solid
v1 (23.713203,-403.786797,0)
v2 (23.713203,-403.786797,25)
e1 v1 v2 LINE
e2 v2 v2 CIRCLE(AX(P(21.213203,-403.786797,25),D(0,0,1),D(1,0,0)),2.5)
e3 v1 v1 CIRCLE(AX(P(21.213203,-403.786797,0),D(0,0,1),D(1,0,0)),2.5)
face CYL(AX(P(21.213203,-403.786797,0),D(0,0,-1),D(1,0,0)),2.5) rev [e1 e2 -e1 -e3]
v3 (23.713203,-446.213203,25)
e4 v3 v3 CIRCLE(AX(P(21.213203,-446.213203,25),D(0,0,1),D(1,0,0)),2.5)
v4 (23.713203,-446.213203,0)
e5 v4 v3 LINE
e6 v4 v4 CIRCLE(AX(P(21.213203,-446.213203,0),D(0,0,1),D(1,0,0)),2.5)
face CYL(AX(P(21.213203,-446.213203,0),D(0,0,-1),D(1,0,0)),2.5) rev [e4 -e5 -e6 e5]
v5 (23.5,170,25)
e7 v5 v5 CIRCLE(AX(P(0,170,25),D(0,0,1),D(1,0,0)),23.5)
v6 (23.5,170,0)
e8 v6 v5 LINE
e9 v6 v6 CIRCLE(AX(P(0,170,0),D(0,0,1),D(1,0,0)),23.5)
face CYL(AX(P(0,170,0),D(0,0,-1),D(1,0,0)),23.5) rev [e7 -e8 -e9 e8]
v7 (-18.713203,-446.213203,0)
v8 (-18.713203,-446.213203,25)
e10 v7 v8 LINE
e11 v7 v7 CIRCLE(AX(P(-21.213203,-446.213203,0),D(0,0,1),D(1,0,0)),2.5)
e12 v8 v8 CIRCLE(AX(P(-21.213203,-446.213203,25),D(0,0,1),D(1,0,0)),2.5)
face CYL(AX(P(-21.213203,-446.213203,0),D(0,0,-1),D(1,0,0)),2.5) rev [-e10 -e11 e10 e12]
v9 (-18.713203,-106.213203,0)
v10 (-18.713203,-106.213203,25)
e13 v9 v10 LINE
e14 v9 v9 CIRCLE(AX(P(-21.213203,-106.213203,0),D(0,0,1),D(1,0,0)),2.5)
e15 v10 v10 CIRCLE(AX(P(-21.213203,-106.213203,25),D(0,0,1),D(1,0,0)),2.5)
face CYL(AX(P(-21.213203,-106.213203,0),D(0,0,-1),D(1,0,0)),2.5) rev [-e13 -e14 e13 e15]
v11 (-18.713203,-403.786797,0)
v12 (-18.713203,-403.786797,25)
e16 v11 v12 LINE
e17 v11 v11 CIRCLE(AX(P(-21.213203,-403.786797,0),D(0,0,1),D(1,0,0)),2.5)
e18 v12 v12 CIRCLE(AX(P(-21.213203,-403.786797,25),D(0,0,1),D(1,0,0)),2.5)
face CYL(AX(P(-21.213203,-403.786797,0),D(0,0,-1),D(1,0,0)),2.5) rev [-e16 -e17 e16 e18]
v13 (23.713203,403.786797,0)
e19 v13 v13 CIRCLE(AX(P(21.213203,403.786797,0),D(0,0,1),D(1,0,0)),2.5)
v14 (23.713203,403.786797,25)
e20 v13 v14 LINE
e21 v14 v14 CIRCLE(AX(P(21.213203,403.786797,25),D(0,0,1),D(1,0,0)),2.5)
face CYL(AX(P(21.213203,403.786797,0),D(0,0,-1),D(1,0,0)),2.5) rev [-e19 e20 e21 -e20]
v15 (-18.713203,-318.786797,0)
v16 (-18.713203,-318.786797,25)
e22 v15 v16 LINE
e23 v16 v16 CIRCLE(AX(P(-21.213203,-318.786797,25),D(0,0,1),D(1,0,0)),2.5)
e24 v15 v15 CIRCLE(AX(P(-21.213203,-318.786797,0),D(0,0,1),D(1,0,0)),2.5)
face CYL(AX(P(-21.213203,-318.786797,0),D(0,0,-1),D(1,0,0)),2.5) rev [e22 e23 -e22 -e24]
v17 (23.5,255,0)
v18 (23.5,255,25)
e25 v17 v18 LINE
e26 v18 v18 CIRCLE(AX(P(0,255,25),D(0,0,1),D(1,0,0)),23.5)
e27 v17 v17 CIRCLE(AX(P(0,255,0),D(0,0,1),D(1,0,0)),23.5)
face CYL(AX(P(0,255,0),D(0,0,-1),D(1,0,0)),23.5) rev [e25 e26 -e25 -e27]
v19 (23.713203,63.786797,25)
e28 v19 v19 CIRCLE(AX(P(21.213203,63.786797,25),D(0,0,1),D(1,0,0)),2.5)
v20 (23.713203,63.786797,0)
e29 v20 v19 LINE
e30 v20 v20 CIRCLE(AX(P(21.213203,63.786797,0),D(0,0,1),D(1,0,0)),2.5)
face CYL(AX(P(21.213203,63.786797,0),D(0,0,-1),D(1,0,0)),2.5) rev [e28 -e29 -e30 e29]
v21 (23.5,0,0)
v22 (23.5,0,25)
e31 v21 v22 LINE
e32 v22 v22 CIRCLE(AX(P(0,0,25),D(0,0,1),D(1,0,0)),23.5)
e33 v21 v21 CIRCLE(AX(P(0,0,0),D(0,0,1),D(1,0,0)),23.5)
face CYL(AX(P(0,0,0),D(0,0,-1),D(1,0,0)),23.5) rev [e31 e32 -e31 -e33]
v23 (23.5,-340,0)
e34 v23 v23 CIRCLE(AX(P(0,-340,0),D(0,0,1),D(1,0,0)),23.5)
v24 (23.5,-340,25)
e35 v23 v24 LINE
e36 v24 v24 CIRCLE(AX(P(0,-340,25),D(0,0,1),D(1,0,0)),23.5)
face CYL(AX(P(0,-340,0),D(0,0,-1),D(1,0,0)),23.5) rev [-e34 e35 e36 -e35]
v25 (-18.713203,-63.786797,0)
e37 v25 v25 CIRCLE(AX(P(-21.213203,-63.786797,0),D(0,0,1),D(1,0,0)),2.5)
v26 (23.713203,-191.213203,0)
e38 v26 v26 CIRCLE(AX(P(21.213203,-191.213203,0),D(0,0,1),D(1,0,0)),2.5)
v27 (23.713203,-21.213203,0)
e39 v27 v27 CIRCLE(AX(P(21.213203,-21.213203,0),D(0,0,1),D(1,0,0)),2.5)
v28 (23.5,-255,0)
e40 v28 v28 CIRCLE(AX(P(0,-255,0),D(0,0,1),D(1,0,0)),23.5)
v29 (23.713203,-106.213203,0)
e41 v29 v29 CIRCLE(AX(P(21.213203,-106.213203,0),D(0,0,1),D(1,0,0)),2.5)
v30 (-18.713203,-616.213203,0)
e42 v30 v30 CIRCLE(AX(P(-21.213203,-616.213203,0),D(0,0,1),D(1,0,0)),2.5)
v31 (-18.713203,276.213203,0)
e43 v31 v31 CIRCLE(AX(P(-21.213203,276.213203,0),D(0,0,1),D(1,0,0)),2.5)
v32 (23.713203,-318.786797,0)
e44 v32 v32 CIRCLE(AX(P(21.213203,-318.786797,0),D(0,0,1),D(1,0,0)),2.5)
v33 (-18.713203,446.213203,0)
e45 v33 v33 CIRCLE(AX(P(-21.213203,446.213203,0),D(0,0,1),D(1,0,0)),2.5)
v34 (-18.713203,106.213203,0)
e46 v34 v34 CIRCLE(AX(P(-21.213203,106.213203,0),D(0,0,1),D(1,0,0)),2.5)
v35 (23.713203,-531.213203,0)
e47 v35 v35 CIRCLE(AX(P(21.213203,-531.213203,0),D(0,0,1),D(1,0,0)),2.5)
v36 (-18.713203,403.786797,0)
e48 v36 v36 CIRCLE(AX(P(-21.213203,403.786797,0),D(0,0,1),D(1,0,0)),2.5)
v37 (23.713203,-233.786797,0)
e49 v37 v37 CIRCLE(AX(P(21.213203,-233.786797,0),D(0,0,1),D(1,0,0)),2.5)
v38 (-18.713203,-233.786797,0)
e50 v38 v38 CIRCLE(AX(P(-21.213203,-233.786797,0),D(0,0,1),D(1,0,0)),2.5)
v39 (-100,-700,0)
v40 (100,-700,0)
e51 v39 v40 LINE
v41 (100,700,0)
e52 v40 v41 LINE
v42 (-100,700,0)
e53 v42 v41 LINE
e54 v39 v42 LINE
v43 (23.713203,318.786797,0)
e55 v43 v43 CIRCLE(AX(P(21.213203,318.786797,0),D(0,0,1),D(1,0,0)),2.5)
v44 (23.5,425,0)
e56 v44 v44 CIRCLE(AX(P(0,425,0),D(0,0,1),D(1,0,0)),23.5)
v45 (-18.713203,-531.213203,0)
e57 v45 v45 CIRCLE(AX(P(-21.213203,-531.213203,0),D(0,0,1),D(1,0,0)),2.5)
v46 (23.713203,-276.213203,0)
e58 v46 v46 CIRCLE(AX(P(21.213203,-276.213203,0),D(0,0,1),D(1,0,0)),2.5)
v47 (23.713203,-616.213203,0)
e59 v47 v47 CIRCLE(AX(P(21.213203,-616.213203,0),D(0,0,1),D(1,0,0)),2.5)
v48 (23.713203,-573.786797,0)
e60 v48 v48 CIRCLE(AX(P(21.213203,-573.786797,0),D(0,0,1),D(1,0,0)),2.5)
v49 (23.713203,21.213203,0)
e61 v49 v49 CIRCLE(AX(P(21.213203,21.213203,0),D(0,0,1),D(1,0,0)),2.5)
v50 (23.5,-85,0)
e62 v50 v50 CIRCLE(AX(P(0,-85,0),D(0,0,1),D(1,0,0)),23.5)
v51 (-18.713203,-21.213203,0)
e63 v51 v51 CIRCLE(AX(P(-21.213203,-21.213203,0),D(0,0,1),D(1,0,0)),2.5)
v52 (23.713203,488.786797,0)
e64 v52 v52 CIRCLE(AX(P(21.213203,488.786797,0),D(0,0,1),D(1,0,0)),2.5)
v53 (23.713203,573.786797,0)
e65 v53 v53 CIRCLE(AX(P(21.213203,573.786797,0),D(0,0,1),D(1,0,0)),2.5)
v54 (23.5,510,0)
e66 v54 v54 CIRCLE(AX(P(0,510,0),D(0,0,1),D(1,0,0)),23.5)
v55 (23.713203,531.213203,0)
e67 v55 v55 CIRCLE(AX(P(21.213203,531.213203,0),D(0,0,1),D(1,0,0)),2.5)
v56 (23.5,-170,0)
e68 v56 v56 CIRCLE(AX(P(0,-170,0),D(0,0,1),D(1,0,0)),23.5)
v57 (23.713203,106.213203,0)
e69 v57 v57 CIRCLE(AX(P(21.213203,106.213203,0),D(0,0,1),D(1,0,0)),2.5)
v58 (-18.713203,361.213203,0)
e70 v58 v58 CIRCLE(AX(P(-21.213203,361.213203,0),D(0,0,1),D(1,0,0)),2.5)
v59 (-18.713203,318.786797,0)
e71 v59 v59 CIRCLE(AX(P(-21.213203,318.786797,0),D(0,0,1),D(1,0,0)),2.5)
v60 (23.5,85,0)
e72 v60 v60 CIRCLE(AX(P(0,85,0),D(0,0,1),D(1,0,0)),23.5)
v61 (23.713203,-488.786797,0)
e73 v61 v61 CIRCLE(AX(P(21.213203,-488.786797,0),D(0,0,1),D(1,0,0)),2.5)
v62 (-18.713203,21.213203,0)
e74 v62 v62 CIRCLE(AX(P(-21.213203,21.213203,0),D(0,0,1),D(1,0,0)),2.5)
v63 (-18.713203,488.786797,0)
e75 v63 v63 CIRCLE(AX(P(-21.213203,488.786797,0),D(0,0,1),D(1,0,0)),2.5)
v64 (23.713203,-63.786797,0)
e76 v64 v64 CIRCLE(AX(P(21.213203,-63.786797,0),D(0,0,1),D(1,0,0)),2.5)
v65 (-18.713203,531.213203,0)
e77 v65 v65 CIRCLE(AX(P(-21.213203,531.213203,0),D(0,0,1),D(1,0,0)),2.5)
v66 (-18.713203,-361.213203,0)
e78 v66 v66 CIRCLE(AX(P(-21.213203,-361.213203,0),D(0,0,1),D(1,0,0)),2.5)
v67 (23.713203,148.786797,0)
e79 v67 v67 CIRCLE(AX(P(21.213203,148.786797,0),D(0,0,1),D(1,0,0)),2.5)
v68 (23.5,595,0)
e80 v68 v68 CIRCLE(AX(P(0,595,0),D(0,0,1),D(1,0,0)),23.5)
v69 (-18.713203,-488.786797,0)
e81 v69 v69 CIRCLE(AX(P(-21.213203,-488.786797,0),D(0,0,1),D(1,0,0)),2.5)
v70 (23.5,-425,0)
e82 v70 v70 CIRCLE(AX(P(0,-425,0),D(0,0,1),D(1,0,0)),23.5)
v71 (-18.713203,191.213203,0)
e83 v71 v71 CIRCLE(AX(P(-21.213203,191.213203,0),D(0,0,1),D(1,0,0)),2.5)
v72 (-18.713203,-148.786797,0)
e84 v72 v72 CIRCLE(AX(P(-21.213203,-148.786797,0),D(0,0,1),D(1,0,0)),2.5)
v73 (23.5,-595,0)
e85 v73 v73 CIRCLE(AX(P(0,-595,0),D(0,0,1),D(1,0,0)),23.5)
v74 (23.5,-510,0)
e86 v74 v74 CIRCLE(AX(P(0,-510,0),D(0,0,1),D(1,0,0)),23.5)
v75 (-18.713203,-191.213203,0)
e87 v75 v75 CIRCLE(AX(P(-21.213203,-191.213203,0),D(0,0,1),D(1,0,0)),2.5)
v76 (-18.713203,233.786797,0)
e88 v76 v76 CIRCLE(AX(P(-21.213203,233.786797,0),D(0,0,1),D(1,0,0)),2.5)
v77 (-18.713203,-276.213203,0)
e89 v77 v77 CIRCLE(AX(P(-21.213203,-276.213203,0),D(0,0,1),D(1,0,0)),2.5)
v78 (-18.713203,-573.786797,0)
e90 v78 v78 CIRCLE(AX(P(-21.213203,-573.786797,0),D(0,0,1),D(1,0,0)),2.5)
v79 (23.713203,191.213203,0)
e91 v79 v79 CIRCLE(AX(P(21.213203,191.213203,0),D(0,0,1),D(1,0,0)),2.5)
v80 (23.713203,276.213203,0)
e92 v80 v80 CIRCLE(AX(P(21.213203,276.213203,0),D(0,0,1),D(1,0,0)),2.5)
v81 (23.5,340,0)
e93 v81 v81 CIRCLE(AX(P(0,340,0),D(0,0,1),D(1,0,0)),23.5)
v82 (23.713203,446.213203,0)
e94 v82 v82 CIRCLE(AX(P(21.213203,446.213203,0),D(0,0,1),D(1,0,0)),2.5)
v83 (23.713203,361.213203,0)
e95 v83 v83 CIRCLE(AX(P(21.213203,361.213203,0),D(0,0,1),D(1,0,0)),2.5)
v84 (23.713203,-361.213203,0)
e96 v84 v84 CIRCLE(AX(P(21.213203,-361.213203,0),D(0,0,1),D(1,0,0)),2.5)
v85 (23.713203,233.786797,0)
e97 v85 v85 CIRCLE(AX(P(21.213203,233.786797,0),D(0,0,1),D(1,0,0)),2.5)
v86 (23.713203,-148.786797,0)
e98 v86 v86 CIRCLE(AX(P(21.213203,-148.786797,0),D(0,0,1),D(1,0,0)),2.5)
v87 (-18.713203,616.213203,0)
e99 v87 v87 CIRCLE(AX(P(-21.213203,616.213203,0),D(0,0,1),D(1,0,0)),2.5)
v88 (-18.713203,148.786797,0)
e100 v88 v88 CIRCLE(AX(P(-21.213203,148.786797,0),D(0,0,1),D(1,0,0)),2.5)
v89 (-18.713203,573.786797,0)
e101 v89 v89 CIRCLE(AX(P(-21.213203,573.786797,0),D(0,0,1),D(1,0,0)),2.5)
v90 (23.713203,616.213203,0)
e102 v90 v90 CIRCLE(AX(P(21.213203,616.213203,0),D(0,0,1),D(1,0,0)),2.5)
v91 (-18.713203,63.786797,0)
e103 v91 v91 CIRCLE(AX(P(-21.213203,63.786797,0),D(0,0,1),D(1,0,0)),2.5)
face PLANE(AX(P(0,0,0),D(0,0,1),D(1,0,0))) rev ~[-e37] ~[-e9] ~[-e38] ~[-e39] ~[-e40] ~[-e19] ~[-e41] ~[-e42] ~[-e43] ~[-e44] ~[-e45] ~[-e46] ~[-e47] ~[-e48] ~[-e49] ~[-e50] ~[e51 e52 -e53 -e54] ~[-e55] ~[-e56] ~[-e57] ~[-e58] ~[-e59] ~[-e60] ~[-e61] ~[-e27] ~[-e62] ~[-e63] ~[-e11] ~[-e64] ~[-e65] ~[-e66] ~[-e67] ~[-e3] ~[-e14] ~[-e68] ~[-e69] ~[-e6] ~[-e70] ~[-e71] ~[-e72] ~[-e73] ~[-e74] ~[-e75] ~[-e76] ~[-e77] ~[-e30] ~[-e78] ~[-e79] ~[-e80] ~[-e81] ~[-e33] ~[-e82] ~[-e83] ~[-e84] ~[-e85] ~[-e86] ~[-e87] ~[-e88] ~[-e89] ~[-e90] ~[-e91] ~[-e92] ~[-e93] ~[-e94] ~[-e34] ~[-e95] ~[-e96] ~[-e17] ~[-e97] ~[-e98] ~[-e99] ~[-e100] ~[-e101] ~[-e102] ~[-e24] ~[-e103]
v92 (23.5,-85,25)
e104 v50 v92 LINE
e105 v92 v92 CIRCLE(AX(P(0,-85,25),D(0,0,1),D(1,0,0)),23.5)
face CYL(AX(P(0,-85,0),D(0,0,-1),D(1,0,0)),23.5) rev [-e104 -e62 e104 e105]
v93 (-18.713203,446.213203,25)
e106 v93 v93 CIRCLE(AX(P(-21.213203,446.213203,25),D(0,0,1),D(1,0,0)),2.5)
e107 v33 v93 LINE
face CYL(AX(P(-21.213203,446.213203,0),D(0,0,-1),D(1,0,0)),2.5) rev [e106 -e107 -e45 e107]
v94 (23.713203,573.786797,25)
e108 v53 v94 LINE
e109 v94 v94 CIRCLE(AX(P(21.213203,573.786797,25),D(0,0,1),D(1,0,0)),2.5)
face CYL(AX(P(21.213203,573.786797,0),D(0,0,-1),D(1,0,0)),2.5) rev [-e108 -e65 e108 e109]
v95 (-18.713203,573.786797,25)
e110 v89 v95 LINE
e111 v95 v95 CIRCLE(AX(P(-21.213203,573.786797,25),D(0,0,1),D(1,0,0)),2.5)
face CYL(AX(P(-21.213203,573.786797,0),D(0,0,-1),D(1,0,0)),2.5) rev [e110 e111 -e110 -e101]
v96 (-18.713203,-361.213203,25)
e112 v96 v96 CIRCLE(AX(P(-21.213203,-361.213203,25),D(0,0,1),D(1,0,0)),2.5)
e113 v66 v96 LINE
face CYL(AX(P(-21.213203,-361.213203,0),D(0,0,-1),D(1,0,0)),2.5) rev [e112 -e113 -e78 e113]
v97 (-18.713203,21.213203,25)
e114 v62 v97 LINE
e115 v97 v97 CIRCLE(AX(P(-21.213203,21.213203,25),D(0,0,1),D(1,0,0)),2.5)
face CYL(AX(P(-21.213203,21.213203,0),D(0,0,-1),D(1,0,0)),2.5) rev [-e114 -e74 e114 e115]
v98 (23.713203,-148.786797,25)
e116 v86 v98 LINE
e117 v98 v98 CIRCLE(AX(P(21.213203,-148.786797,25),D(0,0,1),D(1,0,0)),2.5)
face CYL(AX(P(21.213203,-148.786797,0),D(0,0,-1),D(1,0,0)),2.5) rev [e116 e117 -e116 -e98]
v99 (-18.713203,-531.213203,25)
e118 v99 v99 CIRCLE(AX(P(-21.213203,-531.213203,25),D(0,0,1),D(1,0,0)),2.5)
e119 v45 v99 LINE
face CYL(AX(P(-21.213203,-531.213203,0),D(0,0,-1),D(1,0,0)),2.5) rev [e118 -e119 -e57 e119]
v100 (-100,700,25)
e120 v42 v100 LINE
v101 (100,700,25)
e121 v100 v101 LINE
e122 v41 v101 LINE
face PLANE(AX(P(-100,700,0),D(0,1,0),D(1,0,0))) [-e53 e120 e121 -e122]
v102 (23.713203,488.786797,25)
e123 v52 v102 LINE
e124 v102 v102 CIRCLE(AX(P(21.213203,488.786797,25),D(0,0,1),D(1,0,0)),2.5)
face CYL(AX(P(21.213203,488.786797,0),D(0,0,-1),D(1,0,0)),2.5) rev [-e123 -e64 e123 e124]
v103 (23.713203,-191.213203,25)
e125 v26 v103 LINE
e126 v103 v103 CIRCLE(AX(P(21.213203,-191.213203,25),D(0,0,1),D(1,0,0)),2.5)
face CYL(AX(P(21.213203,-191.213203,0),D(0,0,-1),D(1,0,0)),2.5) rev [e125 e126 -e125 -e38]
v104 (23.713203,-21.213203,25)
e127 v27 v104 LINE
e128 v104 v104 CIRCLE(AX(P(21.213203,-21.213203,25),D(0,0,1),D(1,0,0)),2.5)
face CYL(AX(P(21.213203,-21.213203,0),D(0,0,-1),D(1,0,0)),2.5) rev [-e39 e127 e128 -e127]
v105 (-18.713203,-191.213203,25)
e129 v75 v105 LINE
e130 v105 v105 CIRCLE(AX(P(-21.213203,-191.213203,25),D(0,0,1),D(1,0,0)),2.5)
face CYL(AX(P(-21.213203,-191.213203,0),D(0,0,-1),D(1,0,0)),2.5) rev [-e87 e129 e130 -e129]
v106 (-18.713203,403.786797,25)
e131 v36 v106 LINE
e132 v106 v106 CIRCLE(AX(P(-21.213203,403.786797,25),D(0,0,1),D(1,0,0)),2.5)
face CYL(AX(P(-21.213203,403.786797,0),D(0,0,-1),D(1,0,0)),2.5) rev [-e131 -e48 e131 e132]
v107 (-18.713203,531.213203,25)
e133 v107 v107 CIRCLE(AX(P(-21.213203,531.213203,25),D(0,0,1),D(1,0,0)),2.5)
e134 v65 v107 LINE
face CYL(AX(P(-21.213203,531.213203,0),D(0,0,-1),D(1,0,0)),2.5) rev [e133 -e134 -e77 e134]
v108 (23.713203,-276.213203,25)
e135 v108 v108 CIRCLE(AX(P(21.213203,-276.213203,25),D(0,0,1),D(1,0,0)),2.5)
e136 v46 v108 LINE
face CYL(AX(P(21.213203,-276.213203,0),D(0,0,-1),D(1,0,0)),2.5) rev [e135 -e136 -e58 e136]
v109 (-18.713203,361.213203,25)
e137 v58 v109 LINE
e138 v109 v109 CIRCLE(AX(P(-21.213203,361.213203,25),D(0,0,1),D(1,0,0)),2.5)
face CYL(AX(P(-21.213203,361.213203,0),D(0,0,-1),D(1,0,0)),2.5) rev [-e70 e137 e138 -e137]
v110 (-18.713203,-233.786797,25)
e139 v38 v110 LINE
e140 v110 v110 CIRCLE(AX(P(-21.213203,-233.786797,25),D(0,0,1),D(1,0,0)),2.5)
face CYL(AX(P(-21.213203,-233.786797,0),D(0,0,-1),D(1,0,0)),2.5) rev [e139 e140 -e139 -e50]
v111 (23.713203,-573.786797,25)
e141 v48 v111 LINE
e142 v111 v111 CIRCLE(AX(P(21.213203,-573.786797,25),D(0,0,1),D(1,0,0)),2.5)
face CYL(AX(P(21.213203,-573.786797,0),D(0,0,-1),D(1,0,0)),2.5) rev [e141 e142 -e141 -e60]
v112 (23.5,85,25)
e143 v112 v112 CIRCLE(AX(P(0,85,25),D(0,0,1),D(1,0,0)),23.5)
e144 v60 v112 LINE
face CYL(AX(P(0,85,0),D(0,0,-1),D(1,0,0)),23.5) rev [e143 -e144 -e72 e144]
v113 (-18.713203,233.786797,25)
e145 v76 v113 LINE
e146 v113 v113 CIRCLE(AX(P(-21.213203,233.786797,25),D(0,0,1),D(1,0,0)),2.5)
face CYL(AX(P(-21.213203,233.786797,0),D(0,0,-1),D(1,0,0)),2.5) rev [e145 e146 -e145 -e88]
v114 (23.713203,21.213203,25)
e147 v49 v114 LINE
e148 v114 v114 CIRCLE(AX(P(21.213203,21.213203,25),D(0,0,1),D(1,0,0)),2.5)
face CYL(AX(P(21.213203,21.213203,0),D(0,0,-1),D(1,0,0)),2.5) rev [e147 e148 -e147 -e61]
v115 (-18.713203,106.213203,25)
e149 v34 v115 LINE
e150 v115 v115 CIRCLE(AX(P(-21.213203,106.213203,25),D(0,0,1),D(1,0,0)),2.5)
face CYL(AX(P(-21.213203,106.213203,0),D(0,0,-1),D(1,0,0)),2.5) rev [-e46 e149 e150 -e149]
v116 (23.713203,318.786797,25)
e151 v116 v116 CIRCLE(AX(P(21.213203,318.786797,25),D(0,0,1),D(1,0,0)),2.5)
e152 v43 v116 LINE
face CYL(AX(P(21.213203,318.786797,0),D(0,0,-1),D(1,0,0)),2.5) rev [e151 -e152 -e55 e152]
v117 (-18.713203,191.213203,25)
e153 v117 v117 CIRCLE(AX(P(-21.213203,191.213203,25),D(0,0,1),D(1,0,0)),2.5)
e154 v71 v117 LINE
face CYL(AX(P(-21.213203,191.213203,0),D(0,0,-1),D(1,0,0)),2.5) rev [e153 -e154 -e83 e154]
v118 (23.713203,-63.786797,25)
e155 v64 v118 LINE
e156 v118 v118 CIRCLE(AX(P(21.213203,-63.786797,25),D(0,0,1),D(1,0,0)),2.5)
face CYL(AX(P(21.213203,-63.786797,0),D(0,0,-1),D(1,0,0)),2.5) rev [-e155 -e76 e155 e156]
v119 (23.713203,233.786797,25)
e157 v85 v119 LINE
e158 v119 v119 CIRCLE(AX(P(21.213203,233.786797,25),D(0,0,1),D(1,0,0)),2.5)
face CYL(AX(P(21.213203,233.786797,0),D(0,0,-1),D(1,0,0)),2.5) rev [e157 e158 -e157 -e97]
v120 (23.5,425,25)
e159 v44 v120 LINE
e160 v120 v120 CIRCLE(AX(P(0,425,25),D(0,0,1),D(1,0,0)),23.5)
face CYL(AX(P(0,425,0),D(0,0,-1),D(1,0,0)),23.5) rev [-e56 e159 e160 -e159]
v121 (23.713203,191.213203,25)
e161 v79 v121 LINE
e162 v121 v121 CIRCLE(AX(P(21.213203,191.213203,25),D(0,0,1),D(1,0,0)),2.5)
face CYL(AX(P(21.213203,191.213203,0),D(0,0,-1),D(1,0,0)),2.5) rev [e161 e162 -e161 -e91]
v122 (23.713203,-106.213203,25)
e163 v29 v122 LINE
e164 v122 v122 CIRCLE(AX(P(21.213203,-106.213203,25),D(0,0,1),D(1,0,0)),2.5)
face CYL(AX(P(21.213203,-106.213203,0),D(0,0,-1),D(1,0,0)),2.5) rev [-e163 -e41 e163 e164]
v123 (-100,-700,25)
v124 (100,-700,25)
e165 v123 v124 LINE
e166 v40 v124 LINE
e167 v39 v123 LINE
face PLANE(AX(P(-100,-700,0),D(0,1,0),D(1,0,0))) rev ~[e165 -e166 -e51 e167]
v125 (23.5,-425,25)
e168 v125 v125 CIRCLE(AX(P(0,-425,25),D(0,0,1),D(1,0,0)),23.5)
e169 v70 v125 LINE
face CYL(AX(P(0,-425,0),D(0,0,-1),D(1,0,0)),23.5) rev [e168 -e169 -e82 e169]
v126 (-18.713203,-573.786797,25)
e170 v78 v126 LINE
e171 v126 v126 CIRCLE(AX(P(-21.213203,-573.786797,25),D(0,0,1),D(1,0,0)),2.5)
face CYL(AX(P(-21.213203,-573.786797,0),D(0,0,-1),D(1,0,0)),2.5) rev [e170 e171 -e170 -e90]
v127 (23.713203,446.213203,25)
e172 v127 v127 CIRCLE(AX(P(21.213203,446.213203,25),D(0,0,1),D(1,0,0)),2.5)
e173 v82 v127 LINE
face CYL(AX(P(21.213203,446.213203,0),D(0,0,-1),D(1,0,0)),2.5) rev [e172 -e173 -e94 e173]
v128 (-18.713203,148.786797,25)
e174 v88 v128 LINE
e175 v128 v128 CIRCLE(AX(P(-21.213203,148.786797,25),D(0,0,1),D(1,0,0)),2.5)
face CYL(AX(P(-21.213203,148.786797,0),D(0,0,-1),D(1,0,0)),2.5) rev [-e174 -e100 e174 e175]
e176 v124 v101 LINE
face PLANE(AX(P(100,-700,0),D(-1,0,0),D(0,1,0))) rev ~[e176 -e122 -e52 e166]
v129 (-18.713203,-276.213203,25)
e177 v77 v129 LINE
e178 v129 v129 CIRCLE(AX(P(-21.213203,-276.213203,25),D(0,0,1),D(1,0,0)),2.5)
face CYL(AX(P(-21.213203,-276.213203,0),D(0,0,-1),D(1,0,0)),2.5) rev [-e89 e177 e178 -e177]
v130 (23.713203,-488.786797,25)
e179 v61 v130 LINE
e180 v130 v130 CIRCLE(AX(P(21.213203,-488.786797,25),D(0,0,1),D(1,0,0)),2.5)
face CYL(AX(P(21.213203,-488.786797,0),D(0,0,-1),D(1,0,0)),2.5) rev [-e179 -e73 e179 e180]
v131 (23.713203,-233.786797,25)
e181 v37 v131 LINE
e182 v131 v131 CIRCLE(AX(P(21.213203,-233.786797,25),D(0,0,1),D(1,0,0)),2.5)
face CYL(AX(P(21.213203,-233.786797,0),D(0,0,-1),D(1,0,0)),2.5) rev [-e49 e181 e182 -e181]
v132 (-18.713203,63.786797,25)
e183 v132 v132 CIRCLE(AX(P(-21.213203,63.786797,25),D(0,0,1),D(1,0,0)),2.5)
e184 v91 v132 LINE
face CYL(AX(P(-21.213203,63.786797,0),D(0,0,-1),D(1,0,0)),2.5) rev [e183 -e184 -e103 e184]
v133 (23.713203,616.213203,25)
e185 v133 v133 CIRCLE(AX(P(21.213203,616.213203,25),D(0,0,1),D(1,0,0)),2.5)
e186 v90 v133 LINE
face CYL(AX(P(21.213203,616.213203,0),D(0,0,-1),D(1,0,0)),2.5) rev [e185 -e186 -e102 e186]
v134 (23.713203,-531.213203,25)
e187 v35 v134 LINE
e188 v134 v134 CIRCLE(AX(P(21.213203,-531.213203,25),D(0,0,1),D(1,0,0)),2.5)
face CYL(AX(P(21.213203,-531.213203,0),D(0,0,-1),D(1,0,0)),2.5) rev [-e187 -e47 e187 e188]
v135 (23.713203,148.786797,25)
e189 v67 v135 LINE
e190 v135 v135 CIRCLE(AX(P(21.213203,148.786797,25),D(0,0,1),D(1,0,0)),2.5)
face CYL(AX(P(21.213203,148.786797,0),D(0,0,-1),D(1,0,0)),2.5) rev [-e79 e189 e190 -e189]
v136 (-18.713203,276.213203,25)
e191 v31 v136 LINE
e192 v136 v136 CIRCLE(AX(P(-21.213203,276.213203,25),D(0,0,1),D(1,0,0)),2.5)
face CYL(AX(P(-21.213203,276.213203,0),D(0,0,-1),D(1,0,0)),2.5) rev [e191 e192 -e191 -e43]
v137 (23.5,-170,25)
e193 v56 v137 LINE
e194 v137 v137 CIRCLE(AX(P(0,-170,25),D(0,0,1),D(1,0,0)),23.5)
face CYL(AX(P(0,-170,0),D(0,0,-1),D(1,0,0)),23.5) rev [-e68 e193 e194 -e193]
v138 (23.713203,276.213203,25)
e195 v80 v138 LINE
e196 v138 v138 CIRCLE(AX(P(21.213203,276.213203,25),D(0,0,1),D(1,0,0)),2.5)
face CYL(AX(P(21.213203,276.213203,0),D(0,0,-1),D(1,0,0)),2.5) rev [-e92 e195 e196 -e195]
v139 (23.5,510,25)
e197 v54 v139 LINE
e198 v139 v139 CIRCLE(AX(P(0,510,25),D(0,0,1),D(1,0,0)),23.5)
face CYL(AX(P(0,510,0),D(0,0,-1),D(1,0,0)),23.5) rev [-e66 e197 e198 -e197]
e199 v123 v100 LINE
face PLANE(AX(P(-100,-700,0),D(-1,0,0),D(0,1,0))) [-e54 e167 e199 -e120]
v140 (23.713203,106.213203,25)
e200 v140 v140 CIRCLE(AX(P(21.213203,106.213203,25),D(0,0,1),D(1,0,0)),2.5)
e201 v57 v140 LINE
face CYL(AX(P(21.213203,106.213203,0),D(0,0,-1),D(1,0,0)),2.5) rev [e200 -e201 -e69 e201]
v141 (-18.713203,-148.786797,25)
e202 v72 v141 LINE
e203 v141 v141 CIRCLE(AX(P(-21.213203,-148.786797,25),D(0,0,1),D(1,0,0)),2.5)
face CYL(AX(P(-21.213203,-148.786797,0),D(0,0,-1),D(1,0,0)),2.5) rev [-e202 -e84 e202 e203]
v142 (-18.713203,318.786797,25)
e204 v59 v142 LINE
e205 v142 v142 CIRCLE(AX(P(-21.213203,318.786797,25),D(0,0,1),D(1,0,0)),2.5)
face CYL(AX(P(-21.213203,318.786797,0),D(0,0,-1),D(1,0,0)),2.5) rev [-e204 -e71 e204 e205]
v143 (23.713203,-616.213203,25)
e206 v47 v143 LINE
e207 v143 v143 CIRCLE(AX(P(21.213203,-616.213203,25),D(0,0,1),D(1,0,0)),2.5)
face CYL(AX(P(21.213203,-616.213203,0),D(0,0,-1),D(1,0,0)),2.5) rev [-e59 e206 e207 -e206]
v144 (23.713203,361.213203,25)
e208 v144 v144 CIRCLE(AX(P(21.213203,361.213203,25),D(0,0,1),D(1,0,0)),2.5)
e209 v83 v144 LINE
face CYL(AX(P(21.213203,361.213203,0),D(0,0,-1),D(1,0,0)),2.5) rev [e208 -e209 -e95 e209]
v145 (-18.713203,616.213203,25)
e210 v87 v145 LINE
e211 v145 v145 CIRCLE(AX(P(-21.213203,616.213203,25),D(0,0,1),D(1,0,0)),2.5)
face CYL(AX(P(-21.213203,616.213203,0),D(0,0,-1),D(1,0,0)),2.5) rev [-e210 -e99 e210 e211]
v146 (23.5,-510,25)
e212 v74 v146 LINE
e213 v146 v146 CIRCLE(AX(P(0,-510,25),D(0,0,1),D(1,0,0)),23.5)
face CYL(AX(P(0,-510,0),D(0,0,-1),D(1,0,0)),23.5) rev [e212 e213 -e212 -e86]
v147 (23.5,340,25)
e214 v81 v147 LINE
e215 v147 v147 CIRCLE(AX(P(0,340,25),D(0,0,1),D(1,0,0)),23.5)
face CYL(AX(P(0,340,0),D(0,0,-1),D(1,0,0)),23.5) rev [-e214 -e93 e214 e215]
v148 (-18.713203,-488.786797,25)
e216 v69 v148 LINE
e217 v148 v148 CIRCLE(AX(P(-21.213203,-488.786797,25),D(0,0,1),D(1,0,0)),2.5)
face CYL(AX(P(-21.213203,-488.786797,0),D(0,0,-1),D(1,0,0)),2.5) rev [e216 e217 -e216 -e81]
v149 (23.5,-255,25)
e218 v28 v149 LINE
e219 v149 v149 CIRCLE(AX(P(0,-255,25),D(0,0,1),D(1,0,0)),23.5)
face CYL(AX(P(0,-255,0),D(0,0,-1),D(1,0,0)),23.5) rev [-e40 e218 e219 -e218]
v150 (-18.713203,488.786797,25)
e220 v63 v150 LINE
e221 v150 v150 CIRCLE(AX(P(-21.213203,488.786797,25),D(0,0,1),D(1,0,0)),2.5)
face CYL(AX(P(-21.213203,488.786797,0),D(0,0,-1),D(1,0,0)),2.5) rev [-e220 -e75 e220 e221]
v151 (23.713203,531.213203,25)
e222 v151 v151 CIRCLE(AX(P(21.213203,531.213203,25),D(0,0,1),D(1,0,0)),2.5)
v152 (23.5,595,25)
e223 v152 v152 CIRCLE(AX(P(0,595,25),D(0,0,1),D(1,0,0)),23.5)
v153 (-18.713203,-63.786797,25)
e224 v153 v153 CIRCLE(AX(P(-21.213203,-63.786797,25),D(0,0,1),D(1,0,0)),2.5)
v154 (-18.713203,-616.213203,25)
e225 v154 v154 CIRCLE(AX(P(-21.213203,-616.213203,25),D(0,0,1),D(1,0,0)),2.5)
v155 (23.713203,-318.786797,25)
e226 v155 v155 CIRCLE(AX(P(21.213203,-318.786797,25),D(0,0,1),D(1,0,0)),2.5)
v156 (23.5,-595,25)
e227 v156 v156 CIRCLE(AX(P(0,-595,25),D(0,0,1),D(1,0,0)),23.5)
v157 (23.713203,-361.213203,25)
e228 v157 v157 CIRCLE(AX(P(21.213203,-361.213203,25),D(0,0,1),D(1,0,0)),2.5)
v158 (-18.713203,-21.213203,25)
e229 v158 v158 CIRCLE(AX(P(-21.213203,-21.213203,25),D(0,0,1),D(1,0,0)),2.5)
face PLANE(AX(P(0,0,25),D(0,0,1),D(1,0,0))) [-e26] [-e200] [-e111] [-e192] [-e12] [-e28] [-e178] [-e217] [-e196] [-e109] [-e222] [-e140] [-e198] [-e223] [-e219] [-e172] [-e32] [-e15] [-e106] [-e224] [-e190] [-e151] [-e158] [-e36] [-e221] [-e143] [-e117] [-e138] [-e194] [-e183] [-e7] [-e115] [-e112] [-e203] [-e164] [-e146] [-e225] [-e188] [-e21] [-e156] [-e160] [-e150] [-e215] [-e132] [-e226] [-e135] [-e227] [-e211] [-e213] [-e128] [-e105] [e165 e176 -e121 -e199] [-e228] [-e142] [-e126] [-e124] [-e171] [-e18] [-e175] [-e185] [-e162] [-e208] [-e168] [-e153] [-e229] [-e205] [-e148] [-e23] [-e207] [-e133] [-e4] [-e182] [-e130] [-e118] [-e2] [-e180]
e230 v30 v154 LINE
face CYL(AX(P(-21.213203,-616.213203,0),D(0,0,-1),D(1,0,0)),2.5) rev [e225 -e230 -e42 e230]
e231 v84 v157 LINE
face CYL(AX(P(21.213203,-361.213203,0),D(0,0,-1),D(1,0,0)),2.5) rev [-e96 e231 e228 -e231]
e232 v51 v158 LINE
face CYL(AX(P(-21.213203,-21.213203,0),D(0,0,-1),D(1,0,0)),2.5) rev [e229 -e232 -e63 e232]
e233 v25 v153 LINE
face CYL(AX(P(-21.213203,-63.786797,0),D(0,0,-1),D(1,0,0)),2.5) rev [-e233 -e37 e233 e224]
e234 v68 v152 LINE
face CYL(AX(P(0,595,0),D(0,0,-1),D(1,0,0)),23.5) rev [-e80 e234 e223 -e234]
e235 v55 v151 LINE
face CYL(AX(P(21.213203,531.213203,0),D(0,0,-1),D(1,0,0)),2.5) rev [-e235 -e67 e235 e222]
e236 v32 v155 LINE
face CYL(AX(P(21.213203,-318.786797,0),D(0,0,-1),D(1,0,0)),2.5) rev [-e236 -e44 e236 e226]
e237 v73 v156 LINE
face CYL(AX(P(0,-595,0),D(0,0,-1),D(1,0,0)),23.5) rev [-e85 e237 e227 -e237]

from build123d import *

# Parameters (mm, degrees)
F0_W     = 200
F0_H     = 1400
F0_R     = 2.5
F0_R_2   = 23.5
F1_DEPTH = 25


with BuildPart() as f1:
    # F0 (on Top) → F1 (new body)
    with BuildSketch(Plane.XY):
        Rectangle(F0_W, F0_H)
        with Locations((-21.213203, -616.213203)):
            Circle(F0_R, mode=Mode.SUBTRACT)
        with Locations((-21.213203, -573.786797)):
            Circle(F0_R, mode=Mode.SUBTRACT)
        with Locations((-21.213203, -531.213203)):
            Circle(F0_R, mode=Mode.SUBTRACT)
        with Locations((-21.213203, -488.786797)):
            Circle(F0_R, mode=Mode.SUBTRACT)
        with Locations((-21.213203, -446.213203)):
            Circle(F0_R, mode=Mode.SUBTRACT)
        with Locations((-21.213203, -403.786797)):
            Circle(F0_R, mode=Mode.SUBTRACT)
        with Locations((-21.213203, -361.213203)):
            Circle(F0_R, mode=Mode.SUBTRACT)
        with Locations((-21.213203, -318.786797)):
            Circle(F0_R, mode=Mode.SUBTRACT)
        with Locations((-21.213203, -276.213203)):
            Circle(F0_R, mode=Mode.SUBTRACT)
        with Locations((-21.213203, -233.786797)):
            Circle(F0_R, mode=Mode.SUBTRACT)
        with Locations((-21.213203, -191.213203)):
            Circle(F0_R, mode=Mode.SUBTRACT)
        with Locations((-21.213203, -148.786797)):
            Circle(F0_R, mode=Mode.SUBTRACT)
        with Locations((-21.213203, -106.213203)):
            Circle(F0_R, mode=Mode.SUBTRACT)
        with Locations((-21.213203, -63.786797)):
            Circle(F0_R, mode=Mode.SUBTRACT)
        with Locations((-21.213203, -21.213203)):
            Circle(F0_R, mode=Mode.SUBTRACT)
        with Locations((21.213203, -616.213203)):
            Circle(F0_R, mode=Mode.SUBTRACT)
        with Locations((0, -595)):
            Circle(F0_R_2, mode=Mode.SUBTRACT)
        with Locations((21.213203, -573.786797)):
            Circle(F0_R, mode=Mode.SUBTRACT)
        with Locations((21.213203, -531.213203)):
            Circle(F0_R, mode=Mode.SUBTRACT)
        with Locations((0, -510)):
            Circle(F0_R_2, mode=Mode.SUBTRACT)
        with Locations((21.213203, -488.786797)):
            Circle(F0_R, mode=Mode.SUBTRACT)
        with Locations((21.213203, -446.213203)):
            Circle(F0_R, mode=Mode.SUBTRACT)
        with Locations((0, -425)):
            Circle(F0_R_2, mode=Mode.SUBTRACT)
        with Locations((21.213203, -403.786797)):
            Circle(F0_R, mode=Mode.SUBTRACT)
        with Locations((21.213203, -361.213203)):
            Circle(F0_R, mode=Mode.SUBTRACT)
        with Locations((0, -340)):
            Circle(F0_R_2, mode=Mode.SUBTRACT)
        with Locations((21.213203, -318.786797)):
            Circle(F0_R, mode=Mode.SUBTRACT)
        with Locations((21.213203, -276.213203)):
            Circle(F0_R, mode=Mode.SUBTRACT)
        with Locations((0, -255)):
            Circle(F0_R_2, mode=Mode.SUBTRACT)
        with Locations((21.213203, -233.786797)):
            Circle(F0_R, mode=Mode.SUBTRACT)
        with Locations((21.213203, -191.213203)):
            Circle(F0_R, mode=Mode.SUBTRACT)
        with Locations((0, -170)):
            Circle(F0_R_2, mode=Mode.SUBTRACT)
        with Locations((21.213203, -148.786797)):
            Circle(F0_R, mode=Mode.SUBTRACT)
        with Locations((21.213203, -106.213203)):
            Circle(F0_R, mode=Mode.SUBTRACT)
        with Locations((0, -85)):
            Circle(F0_R_2, mode=Mode.SUBTRACT)
        with Locations((21.213203, -63.786797)):
            Circle(F0_R, mode=Mode.SUBTRACT)
        with Locations((21.213203, -21.213203)):
            Circle(F0_R, mode=Mode.SUBTRACT)
        with Locations((-21.213203, 21.213203)):
            Circle(F0_R, mode=Mode.SUBTRACT)
        with Locations((-21.213203, 63.786797)):
            Circle(F0_R, mode=Mode.SUBTRACT)
        with Locations((-21.213203, 106.213203)):
            Circle(F0_R, mode=Mode.SUBTRACT)
        with Locations((-21.213203, 148.786797)):
            Circle(F0_R, mode=Mode.SUBTRACT)
        with Locations((-21.213203, 191.213203)):
            Circle(F0_R, mode=Mode.SUBTRACT)
        with Locations((-21.213203, 233.786797)):
            Circle(F0_R, mode=Mode.SUBTRACT)
        with Locations((-21.213203, 276.213203)):
            Circle(F0_R, mode=Mode.SUBTRACT)
        with Locations((-21.213203, 318.786797)):
            Circle(F0_R, mode=Mode.SUBTRACT)
        with Locations((-21.213203, 361.213203)):
            Circle(F0_R, mode=Mode.SUBTRACT)
        with Locations((-21.213203, 403.786797)):
            Circle(F0_R, mode=Mode.SUBTRACT)
        with Locations((-21.213203, 446.213203)):
            Circle(F0_R, mode=Mode.SUBTRACT)
        with Locations((-21.213203, 488.786797)):
            Circle(F0_R, mode=Mode.SUBTRACT)
        with Locations((-21.213203, 531.213203)):
            Circle(F0_R, mode=Mode.SUBTRACT)
        with Locations((-21.213203, 573.786797)):
            Circle(F0_R, mode=Mode.SUBTRACT)
        with Locations((-21.213203, 616.213203)):
            Circle(F0_R, mode=Mode.SUBTRACT)
        Circle(F0_R_2, mode=Mode.SUBTRACT)
        with Locations((0, 85)):
            Circle(F0_R_2, mode=Mode.SUBTRACT)
        with Locations((21.213203, 21.213203)):
            Circle(F0_R, mode=Mode.SUBTRACT)
        with Locations((21.213203, 63.786797)):
            Circle(F0_R, mode=Mode.SUBTRACT)
        with Locations((0, 170)):
            Circle(F0_R_2, mode=Mode.SUBTRACT)
        with Locations((21.213203, 106.213203)):
            Circle(F0_R, mode=Mode.SUBTRACT)
        with Locations((21.213203, 148.786797)):
            Circle(F0_R, mode=Mode.SUBTRACT)
        with Locations((0, 255)):
            Circle(F0_R_2, mode=Mode.SUBTRACT)
        with Locations((21.213203, 191.213203)):
            Circle(F0_R, mode=Mode.SUBTRACT)
        with Locations((21.213203, 233.786797)):
            Circle(F0_R, mode=Mode.SUBTRACT)
        with Locations((0, 340)):
            Circle(F0_R_2, mode=Mode.SUBTRACT)
        with Locations((21.213203, 276.213203)):
            Circle(F0_R, mode=Mode.SUBTRACT)
        with Locations((21.213203, 318.786797)):
            Circle(F0_R, mode=Mode.SUBTRACT)
        with Locations((0, 425)):
            Circle(F0_R_2, mode=Mode.SUBTRACT)
        with Locations((21.213203, 361.213203)):
            Circle(F0_R, mode=Mode.SUBTRACT)
        with Locations((21.213203, 403.786797)):
            Circle(F0_R, mode=Mode.SUBTRACT)
        with Locations((0, 510)):
            Circle(F0_R_2, mode=Mode.SUBTRACT)
        with Locations((21.213203, 446.213203)):
            Circle(F0_R, mode=Mode.SUBTRACT)
        with Locations((21.213203, 488.786797)):
            Circle(F0_R, mode=Mode.SUBTRACT)
        with Locations((0, 595)):
            Circle(F0_R_2, mode=Mode.SUBTRACT)
        with Locations((21.213203, 531.213203)):
            Circle(F0_R, mode=Mode.SUBTRACT)
        with Locations((21.213203, 573.786797)):
            Circle(F0_R, mode=Mode.SUBTRACT)
        with Locations((21.213203, 616.213203)):
            Circle(F0_R, mode=Mode.SUBTRACT)
    extrude(amount=F1_DEPTH)


solid = f1.part
